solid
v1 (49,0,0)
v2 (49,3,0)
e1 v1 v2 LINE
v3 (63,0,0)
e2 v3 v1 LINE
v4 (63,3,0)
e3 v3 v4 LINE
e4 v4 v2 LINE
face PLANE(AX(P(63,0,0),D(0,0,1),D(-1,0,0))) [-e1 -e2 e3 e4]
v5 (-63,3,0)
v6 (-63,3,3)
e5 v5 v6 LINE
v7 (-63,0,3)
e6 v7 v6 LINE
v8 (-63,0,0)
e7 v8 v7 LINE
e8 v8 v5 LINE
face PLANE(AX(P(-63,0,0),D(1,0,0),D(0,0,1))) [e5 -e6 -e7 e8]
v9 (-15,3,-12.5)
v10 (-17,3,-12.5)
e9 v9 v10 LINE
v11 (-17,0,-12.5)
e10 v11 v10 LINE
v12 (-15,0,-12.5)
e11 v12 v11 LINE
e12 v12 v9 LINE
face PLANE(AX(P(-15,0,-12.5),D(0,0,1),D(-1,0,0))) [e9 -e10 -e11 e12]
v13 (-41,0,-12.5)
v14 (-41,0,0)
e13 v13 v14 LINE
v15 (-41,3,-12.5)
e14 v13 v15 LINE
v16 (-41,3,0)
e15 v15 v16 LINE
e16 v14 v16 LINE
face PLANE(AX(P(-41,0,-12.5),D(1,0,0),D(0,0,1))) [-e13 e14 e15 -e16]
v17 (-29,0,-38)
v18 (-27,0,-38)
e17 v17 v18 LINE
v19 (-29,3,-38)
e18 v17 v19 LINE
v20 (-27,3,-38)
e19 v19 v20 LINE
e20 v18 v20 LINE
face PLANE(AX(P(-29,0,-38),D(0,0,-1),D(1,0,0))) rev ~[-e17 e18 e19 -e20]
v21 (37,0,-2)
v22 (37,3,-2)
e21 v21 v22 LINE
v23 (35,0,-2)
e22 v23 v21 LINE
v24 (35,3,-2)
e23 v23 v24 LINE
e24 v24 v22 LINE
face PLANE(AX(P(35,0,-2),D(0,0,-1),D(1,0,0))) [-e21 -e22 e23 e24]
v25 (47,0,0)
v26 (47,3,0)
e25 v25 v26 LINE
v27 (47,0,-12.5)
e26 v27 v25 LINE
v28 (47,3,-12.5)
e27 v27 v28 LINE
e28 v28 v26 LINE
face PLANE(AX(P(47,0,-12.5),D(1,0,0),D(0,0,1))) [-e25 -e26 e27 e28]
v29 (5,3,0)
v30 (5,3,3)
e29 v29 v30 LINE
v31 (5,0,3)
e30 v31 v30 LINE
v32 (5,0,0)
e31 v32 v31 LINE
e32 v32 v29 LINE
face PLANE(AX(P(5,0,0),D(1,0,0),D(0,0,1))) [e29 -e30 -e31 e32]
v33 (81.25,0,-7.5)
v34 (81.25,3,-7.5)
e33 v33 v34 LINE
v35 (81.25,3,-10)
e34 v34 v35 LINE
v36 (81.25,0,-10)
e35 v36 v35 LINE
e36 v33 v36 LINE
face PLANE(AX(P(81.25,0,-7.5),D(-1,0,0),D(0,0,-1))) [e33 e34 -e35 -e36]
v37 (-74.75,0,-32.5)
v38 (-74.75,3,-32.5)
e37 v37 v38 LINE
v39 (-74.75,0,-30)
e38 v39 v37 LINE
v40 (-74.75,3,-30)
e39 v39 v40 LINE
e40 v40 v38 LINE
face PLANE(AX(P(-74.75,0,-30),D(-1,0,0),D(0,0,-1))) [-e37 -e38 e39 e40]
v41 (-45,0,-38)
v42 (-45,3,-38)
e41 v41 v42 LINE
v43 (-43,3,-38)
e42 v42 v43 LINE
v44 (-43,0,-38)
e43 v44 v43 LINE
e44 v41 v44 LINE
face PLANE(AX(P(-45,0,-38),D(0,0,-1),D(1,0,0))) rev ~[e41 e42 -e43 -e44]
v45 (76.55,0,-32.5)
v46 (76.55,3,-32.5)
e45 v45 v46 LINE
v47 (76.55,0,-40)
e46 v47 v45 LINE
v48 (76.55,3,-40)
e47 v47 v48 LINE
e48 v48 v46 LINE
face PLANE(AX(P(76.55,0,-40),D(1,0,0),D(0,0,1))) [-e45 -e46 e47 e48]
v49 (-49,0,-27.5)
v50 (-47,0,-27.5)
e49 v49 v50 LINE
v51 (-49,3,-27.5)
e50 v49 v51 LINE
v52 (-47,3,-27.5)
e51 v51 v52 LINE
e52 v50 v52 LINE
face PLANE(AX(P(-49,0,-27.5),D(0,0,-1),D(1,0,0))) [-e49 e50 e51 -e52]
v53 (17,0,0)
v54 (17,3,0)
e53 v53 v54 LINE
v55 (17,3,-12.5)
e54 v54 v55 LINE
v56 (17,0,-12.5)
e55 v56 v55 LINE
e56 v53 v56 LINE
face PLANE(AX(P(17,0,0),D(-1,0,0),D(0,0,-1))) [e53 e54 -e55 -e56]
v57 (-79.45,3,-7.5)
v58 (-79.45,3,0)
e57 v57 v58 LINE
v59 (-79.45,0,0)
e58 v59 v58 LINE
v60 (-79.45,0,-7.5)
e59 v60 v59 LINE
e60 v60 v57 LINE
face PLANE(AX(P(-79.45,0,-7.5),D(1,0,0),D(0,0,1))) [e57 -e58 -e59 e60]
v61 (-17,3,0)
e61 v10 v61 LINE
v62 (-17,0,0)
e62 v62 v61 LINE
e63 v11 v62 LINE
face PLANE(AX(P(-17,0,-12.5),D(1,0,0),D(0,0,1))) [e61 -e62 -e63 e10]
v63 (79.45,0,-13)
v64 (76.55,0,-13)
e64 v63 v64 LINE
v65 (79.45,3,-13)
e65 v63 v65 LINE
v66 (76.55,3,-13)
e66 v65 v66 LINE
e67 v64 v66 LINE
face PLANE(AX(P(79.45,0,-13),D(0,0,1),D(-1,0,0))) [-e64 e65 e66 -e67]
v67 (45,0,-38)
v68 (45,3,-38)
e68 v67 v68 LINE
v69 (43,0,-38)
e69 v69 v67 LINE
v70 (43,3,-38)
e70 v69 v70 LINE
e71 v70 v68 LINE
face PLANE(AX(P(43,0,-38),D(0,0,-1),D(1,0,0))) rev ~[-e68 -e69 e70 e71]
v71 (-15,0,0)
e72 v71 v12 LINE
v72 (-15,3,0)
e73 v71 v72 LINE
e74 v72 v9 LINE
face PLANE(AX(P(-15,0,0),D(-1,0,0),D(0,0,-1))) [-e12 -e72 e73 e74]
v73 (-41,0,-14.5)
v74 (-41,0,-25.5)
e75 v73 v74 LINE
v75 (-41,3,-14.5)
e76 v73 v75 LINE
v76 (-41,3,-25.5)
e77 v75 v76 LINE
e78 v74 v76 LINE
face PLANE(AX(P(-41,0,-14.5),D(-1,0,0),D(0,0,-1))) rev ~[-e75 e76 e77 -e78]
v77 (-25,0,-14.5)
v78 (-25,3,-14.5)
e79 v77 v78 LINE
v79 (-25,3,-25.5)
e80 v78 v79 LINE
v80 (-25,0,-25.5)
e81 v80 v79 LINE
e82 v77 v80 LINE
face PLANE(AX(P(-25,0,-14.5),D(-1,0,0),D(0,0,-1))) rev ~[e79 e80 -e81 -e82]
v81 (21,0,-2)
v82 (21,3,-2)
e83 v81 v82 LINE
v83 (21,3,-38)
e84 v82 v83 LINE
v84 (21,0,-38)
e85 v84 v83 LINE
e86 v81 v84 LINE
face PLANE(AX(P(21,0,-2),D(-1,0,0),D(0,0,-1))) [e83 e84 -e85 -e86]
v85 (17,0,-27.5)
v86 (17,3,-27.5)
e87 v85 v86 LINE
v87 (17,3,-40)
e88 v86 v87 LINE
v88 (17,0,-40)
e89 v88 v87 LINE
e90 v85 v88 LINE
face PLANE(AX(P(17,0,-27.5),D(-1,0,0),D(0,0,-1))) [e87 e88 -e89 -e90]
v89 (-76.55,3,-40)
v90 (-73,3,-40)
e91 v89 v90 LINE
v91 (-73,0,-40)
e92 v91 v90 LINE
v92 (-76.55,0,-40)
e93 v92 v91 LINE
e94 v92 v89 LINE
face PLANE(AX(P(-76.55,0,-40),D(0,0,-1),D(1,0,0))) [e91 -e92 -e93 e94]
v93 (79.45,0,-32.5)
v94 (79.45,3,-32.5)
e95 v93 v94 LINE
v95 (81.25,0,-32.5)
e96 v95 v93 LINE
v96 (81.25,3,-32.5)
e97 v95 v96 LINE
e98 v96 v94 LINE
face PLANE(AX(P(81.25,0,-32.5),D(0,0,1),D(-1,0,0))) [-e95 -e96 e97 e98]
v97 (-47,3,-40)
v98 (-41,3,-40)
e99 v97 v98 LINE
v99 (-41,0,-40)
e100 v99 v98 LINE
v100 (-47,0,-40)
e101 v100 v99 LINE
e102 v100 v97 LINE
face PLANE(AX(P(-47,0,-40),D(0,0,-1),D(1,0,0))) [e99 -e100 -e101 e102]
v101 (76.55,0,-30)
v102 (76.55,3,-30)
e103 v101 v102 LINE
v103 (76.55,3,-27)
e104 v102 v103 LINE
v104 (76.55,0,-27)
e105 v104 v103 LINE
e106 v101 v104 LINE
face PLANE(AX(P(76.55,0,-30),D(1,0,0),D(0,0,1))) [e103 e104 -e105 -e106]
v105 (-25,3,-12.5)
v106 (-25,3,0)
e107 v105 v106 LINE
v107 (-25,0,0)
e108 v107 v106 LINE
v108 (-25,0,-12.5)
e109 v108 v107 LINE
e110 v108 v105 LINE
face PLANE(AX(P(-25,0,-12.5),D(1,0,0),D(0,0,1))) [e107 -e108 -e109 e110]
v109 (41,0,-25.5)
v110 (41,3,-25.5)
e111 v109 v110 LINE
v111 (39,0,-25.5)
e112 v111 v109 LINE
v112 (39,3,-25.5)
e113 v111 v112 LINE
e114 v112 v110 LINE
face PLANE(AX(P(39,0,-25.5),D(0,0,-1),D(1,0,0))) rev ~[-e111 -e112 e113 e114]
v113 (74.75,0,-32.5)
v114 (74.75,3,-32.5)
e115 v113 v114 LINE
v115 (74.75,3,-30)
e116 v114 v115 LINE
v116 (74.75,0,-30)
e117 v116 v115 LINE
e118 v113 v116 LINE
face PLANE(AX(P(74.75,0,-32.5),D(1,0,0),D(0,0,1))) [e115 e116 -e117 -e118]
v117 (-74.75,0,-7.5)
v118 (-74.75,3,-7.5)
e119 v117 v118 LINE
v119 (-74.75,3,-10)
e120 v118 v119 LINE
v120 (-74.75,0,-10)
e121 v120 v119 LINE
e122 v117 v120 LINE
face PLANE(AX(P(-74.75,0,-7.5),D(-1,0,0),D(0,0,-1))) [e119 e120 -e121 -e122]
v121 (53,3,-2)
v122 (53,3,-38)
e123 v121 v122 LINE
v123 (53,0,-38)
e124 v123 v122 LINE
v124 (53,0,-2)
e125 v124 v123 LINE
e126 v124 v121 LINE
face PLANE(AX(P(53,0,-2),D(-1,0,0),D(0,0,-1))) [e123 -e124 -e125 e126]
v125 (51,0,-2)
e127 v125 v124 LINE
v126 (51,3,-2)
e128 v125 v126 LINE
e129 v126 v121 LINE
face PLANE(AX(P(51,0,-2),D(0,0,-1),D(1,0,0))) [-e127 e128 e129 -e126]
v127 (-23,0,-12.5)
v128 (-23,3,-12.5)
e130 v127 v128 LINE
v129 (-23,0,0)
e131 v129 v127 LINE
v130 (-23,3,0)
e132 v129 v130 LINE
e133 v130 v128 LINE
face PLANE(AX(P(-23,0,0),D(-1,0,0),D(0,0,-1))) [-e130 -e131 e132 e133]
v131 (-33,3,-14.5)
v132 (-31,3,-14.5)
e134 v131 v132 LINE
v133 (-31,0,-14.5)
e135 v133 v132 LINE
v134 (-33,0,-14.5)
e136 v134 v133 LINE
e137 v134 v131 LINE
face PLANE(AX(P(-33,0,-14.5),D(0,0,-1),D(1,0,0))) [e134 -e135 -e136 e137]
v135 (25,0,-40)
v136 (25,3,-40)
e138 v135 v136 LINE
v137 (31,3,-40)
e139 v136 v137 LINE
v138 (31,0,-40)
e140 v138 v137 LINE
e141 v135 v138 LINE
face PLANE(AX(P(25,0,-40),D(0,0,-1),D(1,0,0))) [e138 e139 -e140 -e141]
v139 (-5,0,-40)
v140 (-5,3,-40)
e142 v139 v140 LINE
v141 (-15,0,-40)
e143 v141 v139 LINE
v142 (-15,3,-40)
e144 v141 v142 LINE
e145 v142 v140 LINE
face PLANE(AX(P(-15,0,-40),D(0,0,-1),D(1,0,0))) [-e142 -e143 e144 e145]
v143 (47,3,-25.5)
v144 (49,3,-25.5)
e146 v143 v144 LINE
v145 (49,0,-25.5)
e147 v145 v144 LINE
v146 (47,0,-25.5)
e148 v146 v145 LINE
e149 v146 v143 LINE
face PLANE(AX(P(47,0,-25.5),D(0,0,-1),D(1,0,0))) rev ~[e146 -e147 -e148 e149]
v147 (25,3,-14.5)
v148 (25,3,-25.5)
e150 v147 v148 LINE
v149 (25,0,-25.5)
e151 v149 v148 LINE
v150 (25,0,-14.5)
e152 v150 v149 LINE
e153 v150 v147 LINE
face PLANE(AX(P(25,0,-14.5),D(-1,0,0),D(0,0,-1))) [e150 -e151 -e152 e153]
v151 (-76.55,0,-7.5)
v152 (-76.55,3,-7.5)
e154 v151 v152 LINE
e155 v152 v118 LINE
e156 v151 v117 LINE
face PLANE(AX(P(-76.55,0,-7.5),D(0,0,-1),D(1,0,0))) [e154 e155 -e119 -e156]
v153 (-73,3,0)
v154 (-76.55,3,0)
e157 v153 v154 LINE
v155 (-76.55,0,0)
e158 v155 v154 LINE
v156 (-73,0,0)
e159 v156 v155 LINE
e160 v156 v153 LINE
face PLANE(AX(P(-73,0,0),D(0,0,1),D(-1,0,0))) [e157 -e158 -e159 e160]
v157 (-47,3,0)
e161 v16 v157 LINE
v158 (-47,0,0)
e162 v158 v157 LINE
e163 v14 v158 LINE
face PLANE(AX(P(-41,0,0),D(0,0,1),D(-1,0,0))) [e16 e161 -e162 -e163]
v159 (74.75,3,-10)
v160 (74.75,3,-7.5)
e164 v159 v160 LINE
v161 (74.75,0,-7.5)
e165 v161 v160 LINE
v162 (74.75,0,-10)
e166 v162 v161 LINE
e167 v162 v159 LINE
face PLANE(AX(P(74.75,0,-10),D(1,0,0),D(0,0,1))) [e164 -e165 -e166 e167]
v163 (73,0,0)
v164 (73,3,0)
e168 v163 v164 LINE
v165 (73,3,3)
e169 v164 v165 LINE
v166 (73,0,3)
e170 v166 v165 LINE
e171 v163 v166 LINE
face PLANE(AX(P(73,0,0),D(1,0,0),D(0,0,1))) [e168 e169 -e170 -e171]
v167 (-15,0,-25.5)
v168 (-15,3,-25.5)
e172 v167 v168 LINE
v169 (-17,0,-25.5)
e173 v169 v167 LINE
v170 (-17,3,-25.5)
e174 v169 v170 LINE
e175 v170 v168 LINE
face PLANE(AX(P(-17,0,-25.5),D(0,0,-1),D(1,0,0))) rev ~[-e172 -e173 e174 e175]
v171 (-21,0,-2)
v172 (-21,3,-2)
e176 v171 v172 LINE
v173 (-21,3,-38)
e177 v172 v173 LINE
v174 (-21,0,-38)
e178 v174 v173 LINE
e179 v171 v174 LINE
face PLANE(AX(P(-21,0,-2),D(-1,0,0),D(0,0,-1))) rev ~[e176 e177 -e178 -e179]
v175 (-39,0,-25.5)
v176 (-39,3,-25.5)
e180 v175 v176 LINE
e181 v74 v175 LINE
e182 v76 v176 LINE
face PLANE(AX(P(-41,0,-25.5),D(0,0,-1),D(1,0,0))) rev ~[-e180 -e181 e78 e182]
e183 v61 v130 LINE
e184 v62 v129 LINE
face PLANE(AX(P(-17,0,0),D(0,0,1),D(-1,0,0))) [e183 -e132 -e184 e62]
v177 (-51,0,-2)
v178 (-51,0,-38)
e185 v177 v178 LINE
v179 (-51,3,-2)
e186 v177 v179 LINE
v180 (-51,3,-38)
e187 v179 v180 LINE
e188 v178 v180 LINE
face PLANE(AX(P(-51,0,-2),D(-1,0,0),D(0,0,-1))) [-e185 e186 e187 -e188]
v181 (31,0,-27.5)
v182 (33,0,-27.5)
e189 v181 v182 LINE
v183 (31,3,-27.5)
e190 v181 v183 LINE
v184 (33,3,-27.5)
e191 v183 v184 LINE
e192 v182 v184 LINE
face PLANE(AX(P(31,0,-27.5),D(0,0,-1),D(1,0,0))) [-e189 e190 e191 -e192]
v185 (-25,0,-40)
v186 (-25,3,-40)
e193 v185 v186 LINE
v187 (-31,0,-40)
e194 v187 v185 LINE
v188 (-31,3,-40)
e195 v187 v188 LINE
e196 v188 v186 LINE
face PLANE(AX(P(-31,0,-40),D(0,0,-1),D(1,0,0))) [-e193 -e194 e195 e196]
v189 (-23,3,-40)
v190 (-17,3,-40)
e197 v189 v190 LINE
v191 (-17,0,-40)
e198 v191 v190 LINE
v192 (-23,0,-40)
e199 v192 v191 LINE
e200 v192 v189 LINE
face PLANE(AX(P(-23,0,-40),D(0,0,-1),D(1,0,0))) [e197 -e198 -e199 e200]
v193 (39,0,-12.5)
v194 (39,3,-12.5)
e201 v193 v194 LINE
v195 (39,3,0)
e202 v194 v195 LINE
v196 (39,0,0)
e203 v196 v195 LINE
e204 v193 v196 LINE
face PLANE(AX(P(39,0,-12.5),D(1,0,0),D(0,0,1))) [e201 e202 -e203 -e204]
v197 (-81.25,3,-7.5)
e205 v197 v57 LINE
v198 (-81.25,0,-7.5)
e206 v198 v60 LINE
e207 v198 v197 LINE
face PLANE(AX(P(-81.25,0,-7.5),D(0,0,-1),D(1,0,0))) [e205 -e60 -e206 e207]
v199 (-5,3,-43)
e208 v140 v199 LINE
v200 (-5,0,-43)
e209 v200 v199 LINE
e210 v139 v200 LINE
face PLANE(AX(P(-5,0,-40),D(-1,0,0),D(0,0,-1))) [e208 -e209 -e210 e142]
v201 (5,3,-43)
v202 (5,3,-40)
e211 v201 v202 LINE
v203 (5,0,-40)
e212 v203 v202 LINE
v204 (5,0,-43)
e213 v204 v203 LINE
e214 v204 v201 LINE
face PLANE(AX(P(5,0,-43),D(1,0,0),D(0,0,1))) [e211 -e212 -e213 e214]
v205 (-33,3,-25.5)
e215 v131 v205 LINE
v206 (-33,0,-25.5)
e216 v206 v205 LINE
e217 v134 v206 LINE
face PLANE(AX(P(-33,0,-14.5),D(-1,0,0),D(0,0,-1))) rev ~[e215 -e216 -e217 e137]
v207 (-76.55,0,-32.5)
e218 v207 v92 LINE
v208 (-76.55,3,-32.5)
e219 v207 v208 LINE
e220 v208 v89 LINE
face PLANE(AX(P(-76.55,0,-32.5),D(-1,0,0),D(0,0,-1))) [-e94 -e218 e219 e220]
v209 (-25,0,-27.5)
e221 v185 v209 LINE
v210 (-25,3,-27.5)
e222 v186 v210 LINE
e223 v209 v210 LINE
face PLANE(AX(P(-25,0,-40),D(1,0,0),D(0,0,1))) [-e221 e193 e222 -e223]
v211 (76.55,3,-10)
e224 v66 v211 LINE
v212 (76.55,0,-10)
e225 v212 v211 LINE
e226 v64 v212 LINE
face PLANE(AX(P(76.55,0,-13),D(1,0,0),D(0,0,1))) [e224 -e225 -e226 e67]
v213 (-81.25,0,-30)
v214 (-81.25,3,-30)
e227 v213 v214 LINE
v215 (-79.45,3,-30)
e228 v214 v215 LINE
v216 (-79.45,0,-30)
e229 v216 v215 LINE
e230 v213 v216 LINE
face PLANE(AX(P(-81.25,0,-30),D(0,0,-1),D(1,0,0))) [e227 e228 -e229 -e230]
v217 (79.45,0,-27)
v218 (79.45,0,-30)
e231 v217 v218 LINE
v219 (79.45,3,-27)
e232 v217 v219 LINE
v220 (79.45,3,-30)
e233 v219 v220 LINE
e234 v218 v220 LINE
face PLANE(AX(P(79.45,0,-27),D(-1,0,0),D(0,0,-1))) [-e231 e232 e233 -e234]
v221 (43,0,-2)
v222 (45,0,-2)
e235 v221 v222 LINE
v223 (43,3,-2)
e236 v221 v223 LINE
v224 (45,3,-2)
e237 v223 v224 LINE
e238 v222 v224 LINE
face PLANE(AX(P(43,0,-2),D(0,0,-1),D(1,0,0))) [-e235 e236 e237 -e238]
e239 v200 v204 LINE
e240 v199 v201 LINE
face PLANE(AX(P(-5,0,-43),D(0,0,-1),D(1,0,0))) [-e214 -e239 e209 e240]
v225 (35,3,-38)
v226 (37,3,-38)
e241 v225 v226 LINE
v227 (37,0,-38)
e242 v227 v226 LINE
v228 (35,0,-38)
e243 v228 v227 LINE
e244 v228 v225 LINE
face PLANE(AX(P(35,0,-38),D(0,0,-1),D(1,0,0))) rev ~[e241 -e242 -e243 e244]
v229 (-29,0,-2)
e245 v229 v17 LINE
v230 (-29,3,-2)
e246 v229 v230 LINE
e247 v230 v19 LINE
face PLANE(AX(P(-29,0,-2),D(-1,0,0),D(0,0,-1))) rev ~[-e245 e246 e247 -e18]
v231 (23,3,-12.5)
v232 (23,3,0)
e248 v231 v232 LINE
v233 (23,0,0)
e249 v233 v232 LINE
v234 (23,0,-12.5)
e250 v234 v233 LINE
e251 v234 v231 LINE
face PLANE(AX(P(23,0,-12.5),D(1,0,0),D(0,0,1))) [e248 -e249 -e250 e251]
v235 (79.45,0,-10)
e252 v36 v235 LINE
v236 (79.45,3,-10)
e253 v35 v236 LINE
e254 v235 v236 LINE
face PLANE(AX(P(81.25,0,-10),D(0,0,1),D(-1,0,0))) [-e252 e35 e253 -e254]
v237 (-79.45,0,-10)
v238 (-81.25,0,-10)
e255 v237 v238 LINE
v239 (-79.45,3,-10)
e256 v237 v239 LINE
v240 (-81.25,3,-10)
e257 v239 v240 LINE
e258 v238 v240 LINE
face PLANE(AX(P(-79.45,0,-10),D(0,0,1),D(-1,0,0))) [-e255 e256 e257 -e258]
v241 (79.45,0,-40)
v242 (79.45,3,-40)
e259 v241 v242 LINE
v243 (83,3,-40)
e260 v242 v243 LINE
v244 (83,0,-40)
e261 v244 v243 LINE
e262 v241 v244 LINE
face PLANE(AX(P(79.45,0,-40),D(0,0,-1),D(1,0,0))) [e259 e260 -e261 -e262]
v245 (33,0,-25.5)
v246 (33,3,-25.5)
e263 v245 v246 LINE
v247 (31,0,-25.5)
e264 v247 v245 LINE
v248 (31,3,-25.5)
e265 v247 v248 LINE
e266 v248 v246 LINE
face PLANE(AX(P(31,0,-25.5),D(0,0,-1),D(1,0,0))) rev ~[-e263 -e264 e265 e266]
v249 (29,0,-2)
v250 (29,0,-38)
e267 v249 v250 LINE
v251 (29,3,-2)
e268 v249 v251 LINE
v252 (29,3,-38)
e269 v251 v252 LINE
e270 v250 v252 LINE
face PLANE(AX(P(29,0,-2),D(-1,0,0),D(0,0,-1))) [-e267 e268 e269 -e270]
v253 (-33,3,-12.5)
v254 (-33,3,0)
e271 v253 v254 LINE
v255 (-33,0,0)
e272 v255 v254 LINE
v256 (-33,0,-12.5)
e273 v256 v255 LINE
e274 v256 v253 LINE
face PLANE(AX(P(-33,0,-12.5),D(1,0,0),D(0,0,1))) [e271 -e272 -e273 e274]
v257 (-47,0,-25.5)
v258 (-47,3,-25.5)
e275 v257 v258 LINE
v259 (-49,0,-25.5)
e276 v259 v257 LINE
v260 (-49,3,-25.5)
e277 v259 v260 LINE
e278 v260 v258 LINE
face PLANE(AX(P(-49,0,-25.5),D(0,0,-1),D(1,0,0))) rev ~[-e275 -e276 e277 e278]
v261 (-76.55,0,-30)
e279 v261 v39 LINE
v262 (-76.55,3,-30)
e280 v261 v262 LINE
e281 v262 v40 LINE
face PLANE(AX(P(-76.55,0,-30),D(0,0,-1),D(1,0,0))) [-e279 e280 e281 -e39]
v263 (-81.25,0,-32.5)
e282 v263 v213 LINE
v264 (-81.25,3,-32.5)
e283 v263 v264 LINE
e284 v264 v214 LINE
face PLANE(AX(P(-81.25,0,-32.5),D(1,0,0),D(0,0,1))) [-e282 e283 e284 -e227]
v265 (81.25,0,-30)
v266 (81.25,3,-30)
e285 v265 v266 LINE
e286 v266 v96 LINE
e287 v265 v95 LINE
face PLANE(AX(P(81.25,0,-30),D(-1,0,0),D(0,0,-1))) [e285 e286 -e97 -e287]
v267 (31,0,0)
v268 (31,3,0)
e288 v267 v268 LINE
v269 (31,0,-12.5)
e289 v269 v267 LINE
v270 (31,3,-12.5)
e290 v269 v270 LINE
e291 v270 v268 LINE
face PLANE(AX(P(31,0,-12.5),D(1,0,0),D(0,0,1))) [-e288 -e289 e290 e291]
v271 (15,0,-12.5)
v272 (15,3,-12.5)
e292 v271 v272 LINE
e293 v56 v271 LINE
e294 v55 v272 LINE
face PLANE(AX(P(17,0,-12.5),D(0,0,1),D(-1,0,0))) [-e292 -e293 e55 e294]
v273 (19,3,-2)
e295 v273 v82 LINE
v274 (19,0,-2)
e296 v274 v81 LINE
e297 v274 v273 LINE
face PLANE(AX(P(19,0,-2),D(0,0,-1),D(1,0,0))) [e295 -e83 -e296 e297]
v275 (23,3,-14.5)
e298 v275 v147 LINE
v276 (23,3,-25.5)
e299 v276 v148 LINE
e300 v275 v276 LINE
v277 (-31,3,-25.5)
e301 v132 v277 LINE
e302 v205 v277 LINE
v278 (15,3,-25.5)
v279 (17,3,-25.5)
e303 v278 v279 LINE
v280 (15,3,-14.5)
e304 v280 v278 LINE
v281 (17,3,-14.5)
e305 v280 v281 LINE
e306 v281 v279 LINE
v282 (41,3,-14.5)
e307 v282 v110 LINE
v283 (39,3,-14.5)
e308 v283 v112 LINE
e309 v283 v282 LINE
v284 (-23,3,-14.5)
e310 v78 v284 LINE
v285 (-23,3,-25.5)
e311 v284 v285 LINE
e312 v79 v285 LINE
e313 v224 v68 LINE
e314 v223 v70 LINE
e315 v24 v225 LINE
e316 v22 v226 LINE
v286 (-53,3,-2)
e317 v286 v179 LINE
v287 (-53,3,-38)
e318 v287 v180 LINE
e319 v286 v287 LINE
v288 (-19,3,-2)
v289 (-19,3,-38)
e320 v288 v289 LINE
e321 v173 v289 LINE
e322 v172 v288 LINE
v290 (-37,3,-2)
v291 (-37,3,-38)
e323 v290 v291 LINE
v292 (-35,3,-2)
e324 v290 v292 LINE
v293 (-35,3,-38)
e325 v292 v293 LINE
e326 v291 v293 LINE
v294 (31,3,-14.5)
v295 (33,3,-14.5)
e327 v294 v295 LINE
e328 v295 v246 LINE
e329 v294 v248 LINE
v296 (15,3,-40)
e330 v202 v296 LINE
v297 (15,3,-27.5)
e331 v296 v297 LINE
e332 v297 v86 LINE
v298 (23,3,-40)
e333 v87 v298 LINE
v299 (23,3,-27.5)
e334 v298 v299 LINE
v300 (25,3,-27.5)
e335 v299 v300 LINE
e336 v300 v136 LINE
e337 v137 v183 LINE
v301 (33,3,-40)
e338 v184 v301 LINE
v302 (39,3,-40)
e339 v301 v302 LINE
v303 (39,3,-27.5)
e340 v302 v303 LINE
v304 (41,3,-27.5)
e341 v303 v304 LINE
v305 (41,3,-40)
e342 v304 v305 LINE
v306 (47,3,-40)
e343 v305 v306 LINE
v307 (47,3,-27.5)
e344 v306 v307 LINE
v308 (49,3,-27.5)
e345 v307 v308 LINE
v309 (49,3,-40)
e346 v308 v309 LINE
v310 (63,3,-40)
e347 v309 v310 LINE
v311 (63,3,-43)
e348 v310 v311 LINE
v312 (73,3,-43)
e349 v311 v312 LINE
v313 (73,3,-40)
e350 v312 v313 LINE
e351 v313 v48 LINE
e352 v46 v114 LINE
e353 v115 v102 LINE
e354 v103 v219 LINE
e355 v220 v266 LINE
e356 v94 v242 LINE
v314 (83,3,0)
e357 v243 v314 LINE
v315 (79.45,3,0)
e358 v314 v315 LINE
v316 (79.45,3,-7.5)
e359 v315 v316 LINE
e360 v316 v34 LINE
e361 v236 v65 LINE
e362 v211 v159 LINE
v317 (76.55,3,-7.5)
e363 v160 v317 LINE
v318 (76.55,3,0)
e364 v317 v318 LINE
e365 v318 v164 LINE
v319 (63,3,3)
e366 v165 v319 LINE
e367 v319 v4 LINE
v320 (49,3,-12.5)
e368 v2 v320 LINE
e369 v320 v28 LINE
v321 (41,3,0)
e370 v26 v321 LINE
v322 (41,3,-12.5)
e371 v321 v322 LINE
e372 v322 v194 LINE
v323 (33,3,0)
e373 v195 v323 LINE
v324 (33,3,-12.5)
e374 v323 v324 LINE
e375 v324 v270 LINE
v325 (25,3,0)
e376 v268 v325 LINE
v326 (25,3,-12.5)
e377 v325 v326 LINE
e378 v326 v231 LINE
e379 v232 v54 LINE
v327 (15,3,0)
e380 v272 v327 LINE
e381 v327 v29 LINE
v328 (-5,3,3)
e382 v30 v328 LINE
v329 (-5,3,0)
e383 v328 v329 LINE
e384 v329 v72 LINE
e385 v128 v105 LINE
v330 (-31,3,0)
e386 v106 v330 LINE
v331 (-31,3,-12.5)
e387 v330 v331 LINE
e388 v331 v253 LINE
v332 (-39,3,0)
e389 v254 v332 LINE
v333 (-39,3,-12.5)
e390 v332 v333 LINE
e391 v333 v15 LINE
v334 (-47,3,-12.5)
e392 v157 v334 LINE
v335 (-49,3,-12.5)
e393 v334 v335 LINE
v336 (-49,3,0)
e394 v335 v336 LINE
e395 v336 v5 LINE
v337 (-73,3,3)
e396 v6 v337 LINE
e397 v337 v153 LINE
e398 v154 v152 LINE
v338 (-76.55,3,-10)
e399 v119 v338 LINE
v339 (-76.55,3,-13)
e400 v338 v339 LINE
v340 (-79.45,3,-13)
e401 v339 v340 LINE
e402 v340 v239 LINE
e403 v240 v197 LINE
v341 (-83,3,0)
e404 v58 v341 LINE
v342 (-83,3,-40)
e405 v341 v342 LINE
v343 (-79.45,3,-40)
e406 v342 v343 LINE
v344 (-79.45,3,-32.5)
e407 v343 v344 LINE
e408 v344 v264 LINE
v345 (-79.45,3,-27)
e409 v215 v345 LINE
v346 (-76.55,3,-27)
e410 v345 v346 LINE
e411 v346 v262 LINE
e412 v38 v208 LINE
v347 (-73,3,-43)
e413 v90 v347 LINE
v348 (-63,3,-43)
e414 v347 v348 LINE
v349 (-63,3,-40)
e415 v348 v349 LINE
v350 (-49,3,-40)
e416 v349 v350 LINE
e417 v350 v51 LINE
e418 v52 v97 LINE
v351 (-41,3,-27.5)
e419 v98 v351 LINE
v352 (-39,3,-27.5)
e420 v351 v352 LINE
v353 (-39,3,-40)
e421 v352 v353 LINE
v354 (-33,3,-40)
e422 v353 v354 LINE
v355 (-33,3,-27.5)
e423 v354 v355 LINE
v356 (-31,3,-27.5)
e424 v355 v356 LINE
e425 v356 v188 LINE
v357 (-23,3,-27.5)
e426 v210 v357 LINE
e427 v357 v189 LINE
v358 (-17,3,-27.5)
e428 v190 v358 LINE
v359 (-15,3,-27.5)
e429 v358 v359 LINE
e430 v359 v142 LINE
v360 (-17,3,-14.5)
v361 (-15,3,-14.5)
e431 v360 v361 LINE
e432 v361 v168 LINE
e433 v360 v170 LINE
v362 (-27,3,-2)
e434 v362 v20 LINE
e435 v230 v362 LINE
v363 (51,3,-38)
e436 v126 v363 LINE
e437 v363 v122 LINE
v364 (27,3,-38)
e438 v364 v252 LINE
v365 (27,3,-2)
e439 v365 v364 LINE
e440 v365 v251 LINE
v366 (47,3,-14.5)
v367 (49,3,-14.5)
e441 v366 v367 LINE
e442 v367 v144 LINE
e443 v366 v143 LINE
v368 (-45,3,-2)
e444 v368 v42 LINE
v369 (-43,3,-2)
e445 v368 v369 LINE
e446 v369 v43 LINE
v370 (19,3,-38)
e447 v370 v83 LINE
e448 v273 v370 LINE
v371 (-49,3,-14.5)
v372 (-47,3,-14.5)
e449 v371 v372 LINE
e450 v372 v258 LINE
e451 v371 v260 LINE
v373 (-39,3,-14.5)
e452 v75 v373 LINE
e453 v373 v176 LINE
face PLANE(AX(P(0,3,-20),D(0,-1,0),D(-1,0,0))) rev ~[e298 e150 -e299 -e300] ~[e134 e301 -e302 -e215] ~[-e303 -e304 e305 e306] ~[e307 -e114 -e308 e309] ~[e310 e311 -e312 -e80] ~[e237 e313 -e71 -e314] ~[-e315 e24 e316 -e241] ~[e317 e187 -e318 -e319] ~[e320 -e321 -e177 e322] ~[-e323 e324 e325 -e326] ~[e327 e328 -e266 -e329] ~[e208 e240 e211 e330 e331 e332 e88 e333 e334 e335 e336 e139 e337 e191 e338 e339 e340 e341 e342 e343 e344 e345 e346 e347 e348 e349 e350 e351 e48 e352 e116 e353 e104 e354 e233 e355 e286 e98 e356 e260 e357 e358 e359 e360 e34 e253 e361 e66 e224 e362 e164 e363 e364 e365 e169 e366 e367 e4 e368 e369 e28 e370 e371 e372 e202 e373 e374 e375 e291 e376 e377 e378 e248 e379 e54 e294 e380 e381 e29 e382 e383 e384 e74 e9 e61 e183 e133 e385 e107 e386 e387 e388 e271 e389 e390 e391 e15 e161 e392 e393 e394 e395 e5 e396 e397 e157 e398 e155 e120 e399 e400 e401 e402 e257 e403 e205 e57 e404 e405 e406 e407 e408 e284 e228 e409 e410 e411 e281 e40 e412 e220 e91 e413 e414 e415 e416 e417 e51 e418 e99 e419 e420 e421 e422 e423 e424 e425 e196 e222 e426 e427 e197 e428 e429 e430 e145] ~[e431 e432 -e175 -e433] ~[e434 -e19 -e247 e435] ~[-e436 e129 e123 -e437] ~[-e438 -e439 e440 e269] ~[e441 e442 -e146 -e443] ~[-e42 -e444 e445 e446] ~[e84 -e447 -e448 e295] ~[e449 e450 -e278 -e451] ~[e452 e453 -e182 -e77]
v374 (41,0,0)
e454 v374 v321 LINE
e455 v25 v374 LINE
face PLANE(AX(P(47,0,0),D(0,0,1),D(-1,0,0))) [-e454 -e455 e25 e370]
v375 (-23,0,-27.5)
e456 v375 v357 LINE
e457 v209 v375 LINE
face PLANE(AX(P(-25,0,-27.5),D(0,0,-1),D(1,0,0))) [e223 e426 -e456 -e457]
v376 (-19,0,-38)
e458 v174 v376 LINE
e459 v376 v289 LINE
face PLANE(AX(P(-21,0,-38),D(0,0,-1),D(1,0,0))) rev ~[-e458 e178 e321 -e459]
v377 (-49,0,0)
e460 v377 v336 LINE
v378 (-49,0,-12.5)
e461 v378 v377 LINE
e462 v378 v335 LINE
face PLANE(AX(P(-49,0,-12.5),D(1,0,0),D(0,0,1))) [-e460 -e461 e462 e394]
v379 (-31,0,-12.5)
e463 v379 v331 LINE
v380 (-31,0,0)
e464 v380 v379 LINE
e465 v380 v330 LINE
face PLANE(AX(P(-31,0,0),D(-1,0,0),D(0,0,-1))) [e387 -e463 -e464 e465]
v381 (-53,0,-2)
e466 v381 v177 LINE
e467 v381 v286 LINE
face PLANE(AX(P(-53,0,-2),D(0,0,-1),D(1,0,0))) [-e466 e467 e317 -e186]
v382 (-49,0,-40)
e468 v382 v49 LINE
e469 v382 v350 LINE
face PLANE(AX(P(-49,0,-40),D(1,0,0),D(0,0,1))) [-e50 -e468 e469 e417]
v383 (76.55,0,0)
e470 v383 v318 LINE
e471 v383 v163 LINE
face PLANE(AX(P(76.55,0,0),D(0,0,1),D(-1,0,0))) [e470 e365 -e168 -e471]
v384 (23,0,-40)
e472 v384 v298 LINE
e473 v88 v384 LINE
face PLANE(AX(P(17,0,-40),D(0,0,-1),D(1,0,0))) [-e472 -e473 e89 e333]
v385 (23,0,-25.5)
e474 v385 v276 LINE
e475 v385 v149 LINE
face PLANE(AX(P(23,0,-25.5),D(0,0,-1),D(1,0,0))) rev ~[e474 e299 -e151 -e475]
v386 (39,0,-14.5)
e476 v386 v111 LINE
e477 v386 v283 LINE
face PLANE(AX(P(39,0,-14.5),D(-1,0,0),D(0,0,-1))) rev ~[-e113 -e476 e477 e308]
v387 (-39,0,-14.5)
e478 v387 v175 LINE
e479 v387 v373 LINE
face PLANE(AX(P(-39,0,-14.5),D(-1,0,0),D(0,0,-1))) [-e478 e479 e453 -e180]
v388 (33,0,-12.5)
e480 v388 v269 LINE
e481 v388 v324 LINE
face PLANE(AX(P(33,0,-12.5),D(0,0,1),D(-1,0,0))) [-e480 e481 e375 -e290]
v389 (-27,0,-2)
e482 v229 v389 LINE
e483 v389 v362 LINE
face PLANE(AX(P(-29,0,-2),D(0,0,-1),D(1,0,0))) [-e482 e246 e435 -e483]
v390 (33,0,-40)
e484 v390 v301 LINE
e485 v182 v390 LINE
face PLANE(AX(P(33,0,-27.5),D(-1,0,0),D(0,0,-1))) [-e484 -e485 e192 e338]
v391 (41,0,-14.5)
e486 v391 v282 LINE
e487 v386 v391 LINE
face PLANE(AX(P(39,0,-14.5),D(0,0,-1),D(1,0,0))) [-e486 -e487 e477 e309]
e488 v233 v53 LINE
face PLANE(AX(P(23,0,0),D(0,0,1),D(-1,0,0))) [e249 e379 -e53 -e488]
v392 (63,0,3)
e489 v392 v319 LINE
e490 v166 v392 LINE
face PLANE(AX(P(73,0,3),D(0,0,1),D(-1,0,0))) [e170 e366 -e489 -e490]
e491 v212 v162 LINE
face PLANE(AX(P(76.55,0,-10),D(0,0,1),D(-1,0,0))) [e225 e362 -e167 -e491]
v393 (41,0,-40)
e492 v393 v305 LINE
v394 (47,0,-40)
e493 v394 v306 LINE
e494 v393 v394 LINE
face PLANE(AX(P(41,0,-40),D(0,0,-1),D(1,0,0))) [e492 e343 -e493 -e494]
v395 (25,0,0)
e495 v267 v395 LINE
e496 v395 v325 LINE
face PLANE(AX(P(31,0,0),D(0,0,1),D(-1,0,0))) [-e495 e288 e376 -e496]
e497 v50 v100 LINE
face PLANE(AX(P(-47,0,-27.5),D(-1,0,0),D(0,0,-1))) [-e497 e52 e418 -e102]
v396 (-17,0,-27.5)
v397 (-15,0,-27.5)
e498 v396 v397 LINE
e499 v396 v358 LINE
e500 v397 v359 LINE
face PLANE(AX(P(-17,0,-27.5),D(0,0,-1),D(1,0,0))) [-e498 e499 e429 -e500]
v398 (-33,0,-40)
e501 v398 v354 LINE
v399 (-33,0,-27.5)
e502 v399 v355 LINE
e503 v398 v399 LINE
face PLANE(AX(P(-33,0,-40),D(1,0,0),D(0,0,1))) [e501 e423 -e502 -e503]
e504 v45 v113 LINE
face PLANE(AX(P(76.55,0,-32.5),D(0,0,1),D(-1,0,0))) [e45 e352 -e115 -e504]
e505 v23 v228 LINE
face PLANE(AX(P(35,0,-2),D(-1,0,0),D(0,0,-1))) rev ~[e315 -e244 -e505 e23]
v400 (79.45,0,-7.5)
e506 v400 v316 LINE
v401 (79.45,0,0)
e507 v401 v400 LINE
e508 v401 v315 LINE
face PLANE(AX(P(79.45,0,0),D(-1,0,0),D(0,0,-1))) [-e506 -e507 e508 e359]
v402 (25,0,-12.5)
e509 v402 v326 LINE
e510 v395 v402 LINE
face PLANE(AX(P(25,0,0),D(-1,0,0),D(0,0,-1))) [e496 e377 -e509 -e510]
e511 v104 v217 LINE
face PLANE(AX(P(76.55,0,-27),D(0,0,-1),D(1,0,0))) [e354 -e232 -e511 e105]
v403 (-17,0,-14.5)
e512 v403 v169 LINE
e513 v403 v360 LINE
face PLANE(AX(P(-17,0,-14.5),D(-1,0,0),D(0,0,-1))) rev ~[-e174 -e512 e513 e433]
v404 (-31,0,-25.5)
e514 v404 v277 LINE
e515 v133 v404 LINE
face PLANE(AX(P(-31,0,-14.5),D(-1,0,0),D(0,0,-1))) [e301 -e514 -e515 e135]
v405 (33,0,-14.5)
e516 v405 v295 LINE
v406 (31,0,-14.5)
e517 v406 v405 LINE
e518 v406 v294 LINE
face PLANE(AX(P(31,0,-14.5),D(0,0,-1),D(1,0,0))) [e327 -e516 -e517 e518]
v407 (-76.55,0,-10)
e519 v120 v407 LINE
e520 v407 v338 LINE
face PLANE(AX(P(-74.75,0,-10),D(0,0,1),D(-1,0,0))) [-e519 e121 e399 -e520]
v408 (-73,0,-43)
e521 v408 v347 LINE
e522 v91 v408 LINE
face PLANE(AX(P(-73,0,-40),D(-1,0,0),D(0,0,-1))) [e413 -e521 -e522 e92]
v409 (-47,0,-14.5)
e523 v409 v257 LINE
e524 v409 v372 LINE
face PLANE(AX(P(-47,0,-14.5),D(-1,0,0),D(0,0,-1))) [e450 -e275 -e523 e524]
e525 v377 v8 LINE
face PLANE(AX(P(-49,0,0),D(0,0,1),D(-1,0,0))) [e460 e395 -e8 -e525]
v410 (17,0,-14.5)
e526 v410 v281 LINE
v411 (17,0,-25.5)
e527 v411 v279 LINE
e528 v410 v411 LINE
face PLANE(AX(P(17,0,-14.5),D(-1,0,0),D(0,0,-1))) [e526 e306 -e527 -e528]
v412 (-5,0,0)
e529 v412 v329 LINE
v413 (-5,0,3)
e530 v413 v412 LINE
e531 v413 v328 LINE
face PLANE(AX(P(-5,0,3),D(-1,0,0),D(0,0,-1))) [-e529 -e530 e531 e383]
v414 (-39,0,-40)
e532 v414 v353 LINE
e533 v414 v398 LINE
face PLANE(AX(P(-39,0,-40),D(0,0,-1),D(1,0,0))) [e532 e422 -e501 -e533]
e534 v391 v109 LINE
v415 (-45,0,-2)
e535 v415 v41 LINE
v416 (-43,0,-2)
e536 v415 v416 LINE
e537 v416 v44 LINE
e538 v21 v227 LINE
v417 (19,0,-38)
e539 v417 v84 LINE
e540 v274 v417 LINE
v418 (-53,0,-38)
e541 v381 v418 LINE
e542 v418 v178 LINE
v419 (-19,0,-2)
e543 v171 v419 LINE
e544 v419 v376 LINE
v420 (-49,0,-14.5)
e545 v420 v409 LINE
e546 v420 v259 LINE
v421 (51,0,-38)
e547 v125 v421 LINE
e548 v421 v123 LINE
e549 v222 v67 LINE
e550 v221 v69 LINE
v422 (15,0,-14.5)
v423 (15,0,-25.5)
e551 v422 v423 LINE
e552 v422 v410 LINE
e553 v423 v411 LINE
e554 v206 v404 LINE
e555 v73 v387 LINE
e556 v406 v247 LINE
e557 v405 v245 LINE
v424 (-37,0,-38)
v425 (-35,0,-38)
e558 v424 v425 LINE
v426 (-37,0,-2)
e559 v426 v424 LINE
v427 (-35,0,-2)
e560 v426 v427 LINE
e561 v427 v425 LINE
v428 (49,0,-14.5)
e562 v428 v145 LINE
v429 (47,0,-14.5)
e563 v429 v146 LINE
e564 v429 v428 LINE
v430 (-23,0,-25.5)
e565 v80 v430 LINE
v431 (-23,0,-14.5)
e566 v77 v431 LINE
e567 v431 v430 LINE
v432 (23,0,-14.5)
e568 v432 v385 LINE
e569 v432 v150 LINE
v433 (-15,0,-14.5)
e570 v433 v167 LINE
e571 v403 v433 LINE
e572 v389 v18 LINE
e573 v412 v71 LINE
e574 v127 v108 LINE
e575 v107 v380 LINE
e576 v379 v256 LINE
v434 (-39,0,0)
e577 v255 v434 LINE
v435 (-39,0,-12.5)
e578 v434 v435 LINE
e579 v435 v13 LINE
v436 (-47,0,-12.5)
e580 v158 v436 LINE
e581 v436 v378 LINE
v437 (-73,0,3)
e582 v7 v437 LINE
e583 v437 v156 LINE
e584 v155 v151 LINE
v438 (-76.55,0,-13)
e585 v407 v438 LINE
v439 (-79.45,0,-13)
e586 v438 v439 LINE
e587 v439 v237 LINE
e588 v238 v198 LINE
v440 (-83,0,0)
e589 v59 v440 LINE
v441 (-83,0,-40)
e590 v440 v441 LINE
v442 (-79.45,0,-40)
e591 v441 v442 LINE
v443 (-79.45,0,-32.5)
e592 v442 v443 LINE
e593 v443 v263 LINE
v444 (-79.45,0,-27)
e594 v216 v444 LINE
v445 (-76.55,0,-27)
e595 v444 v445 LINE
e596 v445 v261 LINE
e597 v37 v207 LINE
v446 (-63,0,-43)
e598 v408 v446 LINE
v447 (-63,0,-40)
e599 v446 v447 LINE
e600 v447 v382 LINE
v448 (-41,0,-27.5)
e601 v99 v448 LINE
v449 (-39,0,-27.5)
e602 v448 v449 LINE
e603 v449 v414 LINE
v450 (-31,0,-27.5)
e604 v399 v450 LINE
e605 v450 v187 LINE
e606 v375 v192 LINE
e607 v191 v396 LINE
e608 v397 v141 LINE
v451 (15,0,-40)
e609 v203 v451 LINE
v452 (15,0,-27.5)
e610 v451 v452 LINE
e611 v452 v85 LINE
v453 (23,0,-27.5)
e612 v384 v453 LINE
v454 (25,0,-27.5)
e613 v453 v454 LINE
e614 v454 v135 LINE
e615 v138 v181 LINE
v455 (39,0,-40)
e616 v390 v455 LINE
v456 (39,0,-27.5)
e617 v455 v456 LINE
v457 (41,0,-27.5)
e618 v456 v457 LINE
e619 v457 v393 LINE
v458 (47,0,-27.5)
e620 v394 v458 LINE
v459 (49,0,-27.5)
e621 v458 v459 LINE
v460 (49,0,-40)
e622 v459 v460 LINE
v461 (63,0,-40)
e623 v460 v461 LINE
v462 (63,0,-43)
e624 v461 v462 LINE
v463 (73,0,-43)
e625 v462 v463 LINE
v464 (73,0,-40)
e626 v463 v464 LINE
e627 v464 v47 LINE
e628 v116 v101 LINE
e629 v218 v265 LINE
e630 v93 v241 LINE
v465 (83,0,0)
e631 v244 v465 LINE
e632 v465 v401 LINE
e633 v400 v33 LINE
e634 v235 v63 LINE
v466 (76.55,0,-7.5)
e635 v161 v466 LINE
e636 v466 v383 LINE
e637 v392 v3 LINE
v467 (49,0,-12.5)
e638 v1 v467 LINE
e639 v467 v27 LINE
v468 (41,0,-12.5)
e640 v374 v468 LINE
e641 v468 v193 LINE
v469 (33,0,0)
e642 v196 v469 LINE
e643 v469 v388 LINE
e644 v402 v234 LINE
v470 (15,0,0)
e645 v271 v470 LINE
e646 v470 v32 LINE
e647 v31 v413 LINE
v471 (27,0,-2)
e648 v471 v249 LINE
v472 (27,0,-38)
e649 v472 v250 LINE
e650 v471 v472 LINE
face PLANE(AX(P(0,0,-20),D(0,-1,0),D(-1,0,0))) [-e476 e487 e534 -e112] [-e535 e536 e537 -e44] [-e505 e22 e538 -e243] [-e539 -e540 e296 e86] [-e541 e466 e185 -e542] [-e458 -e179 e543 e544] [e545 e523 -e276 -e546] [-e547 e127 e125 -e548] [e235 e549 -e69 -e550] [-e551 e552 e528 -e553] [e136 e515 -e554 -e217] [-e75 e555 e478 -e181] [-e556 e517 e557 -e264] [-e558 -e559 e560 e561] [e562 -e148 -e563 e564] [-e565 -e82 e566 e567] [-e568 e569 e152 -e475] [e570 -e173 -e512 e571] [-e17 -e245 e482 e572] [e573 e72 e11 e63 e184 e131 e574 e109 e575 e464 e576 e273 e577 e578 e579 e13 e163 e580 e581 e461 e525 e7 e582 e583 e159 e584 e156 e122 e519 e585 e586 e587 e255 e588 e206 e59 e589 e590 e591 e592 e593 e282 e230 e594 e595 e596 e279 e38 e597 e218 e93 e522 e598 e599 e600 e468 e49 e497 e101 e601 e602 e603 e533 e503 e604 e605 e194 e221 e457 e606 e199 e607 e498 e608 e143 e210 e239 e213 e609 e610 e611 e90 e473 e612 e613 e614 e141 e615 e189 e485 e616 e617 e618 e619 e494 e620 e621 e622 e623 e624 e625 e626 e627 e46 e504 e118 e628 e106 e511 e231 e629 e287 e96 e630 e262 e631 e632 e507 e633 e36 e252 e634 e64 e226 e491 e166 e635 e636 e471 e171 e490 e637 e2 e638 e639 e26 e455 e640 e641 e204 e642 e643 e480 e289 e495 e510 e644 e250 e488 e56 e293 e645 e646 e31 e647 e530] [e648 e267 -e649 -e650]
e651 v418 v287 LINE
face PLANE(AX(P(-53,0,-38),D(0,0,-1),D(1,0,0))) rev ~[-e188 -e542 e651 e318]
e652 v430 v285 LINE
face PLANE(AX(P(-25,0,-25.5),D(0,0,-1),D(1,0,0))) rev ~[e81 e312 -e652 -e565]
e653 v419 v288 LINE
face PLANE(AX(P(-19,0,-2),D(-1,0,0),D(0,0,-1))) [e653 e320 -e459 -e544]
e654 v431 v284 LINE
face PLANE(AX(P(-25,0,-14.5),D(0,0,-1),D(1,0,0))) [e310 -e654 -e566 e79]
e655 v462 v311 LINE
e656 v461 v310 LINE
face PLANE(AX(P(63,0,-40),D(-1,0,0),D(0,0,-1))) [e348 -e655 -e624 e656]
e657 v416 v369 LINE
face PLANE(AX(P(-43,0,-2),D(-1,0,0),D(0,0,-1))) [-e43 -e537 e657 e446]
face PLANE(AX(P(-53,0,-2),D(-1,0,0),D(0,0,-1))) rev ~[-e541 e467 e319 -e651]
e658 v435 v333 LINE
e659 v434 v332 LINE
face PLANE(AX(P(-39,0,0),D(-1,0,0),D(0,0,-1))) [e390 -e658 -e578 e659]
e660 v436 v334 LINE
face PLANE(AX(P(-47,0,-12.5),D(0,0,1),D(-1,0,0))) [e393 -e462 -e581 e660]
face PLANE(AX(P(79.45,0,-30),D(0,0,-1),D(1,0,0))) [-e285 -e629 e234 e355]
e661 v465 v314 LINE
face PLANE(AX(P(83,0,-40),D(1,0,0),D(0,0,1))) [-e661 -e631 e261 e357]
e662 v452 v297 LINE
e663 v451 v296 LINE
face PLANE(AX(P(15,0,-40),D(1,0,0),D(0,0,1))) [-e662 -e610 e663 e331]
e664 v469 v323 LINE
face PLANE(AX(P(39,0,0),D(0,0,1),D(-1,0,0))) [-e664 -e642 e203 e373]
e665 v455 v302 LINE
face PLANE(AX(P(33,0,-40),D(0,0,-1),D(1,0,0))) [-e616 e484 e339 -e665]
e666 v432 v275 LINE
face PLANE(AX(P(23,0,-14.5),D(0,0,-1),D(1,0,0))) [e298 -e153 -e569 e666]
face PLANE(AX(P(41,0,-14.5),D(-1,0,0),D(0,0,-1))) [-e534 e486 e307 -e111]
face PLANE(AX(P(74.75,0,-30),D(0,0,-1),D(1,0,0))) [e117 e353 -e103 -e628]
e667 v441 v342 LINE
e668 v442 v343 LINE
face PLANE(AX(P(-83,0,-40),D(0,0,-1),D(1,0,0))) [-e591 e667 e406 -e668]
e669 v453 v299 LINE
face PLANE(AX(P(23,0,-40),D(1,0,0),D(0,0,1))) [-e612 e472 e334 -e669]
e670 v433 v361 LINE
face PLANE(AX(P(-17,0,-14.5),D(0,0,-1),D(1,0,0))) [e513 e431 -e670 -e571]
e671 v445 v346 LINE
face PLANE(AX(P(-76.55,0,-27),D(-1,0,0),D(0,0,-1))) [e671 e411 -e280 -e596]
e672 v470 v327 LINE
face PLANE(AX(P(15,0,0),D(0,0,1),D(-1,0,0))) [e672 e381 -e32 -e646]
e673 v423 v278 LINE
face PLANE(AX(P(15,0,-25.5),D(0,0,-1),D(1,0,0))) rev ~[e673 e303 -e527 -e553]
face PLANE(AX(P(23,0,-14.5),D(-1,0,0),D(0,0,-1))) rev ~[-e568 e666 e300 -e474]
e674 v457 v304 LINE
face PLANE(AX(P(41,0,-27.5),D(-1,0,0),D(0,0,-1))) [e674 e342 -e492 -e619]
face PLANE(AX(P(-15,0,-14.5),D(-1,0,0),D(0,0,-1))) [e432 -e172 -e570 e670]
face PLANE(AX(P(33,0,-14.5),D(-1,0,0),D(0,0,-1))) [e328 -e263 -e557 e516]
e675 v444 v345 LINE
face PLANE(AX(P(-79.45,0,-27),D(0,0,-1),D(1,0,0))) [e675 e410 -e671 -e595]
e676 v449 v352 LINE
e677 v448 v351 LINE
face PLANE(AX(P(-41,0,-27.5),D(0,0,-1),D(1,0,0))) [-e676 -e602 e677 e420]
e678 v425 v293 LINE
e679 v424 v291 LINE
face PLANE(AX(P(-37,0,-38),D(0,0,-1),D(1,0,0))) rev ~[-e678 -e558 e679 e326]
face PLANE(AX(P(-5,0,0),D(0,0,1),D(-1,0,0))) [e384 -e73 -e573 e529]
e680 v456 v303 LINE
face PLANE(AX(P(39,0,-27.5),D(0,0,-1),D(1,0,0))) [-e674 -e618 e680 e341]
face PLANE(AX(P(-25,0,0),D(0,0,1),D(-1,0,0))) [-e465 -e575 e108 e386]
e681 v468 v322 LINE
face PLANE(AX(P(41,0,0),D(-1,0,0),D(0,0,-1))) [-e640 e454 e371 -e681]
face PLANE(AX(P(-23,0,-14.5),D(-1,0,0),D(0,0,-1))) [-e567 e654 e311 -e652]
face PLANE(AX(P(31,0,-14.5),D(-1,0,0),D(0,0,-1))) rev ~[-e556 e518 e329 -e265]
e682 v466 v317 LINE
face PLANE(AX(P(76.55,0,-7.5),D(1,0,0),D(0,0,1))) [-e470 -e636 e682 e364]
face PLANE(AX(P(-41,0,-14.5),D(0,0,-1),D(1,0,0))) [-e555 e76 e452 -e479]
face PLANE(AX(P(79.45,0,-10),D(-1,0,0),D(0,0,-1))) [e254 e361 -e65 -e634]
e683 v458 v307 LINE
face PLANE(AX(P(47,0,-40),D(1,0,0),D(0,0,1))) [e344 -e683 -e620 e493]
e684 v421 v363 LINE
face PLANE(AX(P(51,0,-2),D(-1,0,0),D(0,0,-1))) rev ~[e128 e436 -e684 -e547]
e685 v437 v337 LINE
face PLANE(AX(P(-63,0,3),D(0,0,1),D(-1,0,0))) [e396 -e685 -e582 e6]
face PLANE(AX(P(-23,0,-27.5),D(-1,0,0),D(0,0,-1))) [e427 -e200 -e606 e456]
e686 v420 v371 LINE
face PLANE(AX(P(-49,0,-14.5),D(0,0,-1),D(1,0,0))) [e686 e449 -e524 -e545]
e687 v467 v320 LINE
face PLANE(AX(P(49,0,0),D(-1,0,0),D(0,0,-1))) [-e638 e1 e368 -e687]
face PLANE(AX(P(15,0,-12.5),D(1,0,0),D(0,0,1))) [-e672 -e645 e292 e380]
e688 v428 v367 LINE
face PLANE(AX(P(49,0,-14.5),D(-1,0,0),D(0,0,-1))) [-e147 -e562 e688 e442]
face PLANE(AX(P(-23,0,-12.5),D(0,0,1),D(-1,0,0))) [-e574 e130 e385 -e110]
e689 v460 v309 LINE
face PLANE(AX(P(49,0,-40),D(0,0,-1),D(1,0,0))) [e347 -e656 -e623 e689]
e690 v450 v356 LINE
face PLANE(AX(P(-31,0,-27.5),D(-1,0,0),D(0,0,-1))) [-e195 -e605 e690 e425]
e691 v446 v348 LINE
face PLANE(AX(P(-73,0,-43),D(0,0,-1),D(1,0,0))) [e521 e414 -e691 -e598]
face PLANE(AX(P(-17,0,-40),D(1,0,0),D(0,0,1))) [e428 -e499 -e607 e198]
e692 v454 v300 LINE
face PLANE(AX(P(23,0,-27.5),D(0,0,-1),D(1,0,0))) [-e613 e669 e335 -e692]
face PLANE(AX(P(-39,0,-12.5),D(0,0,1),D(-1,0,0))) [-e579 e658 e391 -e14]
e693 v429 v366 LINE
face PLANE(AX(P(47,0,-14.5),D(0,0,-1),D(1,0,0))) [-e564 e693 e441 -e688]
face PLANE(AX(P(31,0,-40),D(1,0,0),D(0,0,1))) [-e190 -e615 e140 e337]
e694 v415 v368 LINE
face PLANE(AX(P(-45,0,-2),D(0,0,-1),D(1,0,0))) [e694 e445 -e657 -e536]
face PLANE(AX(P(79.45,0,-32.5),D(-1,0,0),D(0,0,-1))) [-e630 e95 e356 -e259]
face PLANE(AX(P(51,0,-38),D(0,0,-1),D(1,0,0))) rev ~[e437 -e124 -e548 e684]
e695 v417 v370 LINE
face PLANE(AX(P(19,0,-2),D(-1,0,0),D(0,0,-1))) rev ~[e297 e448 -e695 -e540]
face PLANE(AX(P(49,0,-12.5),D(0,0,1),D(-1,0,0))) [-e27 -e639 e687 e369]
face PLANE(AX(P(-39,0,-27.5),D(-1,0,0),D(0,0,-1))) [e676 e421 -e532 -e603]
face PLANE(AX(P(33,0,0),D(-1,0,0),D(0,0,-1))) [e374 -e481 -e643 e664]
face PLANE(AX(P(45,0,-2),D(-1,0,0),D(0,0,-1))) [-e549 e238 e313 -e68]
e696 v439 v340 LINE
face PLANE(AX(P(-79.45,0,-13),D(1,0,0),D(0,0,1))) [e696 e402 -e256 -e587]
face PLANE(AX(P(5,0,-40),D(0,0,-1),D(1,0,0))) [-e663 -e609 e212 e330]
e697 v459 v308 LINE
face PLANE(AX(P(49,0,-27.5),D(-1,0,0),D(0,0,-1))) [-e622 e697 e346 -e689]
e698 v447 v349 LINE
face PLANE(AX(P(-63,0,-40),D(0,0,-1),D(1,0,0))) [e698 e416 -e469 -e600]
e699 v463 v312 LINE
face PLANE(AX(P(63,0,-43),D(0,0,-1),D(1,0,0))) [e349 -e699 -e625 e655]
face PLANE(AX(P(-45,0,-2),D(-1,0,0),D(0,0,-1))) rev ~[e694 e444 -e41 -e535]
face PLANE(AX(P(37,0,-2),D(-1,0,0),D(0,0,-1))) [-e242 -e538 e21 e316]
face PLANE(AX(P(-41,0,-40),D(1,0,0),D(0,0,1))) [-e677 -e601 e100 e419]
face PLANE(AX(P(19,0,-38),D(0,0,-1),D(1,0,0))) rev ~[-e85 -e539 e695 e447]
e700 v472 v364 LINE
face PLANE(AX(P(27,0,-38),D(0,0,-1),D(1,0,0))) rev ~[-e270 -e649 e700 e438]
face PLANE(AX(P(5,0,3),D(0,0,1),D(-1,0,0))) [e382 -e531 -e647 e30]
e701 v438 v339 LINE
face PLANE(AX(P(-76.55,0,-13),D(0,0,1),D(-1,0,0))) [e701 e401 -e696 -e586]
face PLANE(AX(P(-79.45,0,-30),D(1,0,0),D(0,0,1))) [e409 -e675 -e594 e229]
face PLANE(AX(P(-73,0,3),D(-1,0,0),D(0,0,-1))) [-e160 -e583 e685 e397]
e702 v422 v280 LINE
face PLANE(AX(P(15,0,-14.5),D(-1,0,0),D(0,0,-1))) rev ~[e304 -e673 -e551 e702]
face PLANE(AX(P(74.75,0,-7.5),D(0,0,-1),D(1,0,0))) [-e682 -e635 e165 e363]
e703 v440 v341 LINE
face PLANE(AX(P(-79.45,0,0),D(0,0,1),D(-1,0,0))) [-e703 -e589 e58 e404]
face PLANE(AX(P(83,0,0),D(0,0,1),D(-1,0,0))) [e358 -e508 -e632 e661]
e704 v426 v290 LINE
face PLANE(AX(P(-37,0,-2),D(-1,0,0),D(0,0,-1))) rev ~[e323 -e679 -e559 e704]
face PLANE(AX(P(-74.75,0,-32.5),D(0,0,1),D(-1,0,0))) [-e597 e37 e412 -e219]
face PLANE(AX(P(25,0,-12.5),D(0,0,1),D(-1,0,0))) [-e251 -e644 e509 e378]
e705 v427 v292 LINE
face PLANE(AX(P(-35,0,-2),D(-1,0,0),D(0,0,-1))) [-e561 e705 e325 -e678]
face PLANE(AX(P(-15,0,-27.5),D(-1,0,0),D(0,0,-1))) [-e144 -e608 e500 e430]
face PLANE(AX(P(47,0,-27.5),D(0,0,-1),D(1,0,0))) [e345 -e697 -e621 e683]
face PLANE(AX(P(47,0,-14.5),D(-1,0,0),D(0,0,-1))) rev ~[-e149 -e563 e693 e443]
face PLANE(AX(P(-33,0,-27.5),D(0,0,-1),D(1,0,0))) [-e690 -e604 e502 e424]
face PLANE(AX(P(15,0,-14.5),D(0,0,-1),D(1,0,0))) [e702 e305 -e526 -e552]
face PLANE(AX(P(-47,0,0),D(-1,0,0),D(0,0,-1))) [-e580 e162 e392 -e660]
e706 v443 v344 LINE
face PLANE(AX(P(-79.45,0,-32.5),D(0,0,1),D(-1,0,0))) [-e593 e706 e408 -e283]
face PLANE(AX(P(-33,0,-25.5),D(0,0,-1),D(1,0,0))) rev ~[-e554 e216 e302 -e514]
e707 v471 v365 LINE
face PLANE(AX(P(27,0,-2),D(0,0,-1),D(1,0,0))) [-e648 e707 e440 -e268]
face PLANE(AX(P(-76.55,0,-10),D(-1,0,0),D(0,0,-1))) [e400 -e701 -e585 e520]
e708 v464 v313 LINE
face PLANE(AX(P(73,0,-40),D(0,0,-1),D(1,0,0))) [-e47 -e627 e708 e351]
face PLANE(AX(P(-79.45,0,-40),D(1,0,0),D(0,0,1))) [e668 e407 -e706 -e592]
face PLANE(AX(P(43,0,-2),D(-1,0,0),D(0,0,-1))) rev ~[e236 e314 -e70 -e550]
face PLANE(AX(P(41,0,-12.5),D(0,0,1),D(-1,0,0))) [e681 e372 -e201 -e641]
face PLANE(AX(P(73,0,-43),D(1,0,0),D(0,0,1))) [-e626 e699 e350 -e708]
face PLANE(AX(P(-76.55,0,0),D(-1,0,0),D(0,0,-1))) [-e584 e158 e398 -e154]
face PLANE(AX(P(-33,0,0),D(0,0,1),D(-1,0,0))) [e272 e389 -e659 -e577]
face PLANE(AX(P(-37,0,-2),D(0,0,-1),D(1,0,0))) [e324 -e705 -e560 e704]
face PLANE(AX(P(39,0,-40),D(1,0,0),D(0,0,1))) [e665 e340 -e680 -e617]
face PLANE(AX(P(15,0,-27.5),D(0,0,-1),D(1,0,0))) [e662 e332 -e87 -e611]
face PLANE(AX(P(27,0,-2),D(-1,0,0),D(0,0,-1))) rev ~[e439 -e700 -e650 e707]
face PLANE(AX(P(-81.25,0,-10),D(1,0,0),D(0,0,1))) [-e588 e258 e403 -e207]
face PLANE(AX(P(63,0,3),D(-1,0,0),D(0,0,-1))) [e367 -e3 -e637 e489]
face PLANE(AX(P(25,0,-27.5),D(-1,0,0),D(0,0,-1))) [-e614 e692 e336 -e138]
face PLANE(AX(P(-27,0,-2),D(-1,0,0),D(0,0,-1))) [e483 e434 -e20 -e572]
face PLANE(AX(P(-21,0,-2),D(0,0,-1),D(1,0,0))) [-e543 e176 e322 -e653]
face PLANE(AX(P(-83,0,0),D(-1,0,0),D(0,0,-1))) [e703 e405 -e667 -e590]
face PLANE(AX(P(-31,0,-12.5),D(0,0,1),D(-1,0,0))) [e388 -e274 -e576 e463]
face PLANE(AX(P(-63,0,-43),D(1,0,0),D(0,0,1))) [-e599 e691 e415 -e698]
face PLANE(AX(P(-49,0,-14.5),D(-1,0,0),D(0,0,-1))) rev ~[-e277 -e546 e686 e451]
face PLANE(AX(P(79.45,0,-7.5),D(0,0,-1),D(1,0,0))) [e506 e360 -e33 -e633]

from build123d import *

# Parameters (mm, degrees)
SKETCH1_W           = 2
SKETCH1_H           = 36
SKETCH1_H_2         = 11
BOSS_EXTRUDE1_DEPTH = 3


with BuildPart() as part:
    # Sketch1 → Boss-Extrude1 (new body)
    with BuildSketch(Plane(origin=(0, 0, 0), x_dir=(1, 0, 0), z_dir=(0, 1, 0))):
        Polygon((-83, 40), (-79.45, 40), (-79.45, 32.5), (-81.25, 32.5), (-81.25, 30), (-79.45, 30), (-79.45, 27), (-76.55, 27), (-76.55, 30), (-74.75, 30), (-74.75, 32.5), (-76.55, 32.5), (-76.55, 40), (-73, 40), (-73, 43), (-63, 43), (-63, 40), (-49, 40), (-49, 27.5), (-47, 27.5), (-47, 40), (-41, 40), (-41, 27.5), (-39, 27.5), (-39, 40), (-33, 40), (-33, 27.5), (-31, 27.5), (-31, 40), (-25, 40), (-25, 27.5), (-23, 27.5), (-23, 40), (-17, 40), (-17, 27.5), (-15, 27.5), (-15, 40), (-5, 40), (-5, 43), (5, 43), (5, 40), (15, 40), (15, 27.5), (17, 27.5), (17, 40), (23, 40), (23, 27.5), (25, 27.5), (25, 40), (31, 40), (31, 27.5), (33, 27.5), (33, 40), (39, 40), (39, 27.5), (41, 27.5), (41, 40), (47, 40), (47, 27.5), (49, 27.5), (49, 40), (63, 40), (63, 43), (73, 43), (73, 40), (76.55, 40), (76.55, 32.5), (74.75, 32.5), (74.75, 30), (76.55, 30), (76.55, 27), (79.45, 27), (79.45, 30), (81.25, 30), (81.25, 32.5), (79.45, 32.5), (79.45, 40), (83, 40), (83, 0), (79.45, 0), (79.45, 7.5), (81.25, 7.5), (81.25, 10), (79.45, 10), (79.45, 13), (76.55, 13), (76.55, 10), (74.75, 10), (74.75, 7.5), (76.55, 7.5), (76.55, 0), (73, 0), (73, -3), (63, -3), (63, 0), (49, 0), (49, 12.5), (47, 12.5), (47, 0), (41, 0), (41, 12.5), (39, 12.5), (39, 0), (33, 0), (33, 12.5), (31, 12.5), (31, 0), (25, 0), (25, 12.5), (23, 12.5), (23, 0), (17, 0), (17, 12.5), (15, 12.5), (15, 0), (5, 0), (5, -3), (-5, -3), (-5, 0), (-15, 0), (-15, 12.5), (-17, 12.5), (-17, 0), (-23, 0), (-23, 12.5), (-25, 12.5), (-25, 0), (-31, 0), (-31, 12.5), (-33, 12.5), (-33, 0), (-39, 0), (-39, 12.5), (-41, 12.5), (-41, 0), (-47, 0), (-47, 12.5), (-49, 12.5), (-49, 0), (-63, 0), (-63, -3), (-73, -3), (-73, 0), (-76.55, 0), (-76.55, 7.5), (-74.75, 7.5), (-74.75, 10), (-76.55, 10), (-76.55, 13), (-79.45, 13), (-79.45, 10), (-81.25, 10), (-81.25, 7.5), (-79.45, 7.5), (-79.45, 0), (-83, 0), align=None)
        with Locations((-52, 20)):
            Rectangle(SKETCH1_W, SKETCH1_H, mode=Mode.SUBTRACT)
        with Locations((-44, 20)):
            Rectangle(SKETCH1_W, SKETCH1_H, mode=Mode.SUBTRACT)
        with Locations((-36, 20)):
            Rectangle(SKETCH1_W, SKETCH1_H, mode=Mode.SUBTRACT)
        with Locations((-28, 20)):
            Rectangle(SKETCH1_W, SKETCH1_H, mode=Mode.SUBTRACT)
        with Locations((-20, 20)):
            Rectangle(SKETCH1_W, SKETCH1_H, mode=Mode.SUBTRACT)
        with Locations((-48, 20)):
            Rectangle(SKETCH1_W, SKETCH1_H_2, mode=Mode.SUBTRACT)
        with Locations((-40, 20)):
            Rectangle(SKETCH1_W, SKETCH1_H_2, mode=Mode.SUBTRACT)
        with Locations((-32, 20)):
            Rectangle(SKETCH1_W, SKETCH1_H_2, mode=Mode.SUBTRACT)
        with Locations((-24, 20)):
            Rectangle(SKETCH1_W, SKETCH1_H_2, mode=Mode.SUBTRACT)
        with Locations((-16, 20)):
            Rectangle(SKETCH1_W, SKETCH1_H_2, mode=Mode.SUBTRACT)
        with Locations((16, 20)):
            Rectangle(SKETCH1_W, SKETCH1_H_2, mode=Mode.SUBTRACT)
        with Locations((20, 20)):
            Rectangle(SKETCH1_W, SKETCH1_H, mode=Mode.SUBTRACT)
        with Locations((24, 20)):
            Rectangle(SKETCH1_W, SKETCH1_H_2, mode=Mode.SUBTRACT)
        with Locations((28, 20)):
            Rectangle(SKETCH1_W, SKETCH1_H, mode=Mode.SUBTRACT)
        with Locations((32, 20)):
            Rectangle(SKETCH1_W, SKETCH1_H_2, mode=Mode.SUBTRACT)
        with Locations((36, 20)):
            Rectangle(SKETCH1_W, SKETCH1_H, mode=Mode.SUBTRACT)
        with Locations((40, 20)):
            Rectangle(SKETCH1_W, SKETCH1_H_2, mode=Mode.SUBTRACT)
        with Locations((48, 20)):
            Rectangle(SKETCH1_W, SKETCH1_H_2, mode=Mode.SUBTRACT)
        with Locations((44, 20)):
            Rectangle(SKETCH1_W, SKETCH1_H, mode=Mode.SUBTRACT)
        with Locations((52, 20)):
            Rectangle(SKETCH1_W, SKETCH1_H, mode=Mode.SUBTRACT)
    extrude(amount=BOSS_EXTRUDE1_DEPTH)


solid = part.part
